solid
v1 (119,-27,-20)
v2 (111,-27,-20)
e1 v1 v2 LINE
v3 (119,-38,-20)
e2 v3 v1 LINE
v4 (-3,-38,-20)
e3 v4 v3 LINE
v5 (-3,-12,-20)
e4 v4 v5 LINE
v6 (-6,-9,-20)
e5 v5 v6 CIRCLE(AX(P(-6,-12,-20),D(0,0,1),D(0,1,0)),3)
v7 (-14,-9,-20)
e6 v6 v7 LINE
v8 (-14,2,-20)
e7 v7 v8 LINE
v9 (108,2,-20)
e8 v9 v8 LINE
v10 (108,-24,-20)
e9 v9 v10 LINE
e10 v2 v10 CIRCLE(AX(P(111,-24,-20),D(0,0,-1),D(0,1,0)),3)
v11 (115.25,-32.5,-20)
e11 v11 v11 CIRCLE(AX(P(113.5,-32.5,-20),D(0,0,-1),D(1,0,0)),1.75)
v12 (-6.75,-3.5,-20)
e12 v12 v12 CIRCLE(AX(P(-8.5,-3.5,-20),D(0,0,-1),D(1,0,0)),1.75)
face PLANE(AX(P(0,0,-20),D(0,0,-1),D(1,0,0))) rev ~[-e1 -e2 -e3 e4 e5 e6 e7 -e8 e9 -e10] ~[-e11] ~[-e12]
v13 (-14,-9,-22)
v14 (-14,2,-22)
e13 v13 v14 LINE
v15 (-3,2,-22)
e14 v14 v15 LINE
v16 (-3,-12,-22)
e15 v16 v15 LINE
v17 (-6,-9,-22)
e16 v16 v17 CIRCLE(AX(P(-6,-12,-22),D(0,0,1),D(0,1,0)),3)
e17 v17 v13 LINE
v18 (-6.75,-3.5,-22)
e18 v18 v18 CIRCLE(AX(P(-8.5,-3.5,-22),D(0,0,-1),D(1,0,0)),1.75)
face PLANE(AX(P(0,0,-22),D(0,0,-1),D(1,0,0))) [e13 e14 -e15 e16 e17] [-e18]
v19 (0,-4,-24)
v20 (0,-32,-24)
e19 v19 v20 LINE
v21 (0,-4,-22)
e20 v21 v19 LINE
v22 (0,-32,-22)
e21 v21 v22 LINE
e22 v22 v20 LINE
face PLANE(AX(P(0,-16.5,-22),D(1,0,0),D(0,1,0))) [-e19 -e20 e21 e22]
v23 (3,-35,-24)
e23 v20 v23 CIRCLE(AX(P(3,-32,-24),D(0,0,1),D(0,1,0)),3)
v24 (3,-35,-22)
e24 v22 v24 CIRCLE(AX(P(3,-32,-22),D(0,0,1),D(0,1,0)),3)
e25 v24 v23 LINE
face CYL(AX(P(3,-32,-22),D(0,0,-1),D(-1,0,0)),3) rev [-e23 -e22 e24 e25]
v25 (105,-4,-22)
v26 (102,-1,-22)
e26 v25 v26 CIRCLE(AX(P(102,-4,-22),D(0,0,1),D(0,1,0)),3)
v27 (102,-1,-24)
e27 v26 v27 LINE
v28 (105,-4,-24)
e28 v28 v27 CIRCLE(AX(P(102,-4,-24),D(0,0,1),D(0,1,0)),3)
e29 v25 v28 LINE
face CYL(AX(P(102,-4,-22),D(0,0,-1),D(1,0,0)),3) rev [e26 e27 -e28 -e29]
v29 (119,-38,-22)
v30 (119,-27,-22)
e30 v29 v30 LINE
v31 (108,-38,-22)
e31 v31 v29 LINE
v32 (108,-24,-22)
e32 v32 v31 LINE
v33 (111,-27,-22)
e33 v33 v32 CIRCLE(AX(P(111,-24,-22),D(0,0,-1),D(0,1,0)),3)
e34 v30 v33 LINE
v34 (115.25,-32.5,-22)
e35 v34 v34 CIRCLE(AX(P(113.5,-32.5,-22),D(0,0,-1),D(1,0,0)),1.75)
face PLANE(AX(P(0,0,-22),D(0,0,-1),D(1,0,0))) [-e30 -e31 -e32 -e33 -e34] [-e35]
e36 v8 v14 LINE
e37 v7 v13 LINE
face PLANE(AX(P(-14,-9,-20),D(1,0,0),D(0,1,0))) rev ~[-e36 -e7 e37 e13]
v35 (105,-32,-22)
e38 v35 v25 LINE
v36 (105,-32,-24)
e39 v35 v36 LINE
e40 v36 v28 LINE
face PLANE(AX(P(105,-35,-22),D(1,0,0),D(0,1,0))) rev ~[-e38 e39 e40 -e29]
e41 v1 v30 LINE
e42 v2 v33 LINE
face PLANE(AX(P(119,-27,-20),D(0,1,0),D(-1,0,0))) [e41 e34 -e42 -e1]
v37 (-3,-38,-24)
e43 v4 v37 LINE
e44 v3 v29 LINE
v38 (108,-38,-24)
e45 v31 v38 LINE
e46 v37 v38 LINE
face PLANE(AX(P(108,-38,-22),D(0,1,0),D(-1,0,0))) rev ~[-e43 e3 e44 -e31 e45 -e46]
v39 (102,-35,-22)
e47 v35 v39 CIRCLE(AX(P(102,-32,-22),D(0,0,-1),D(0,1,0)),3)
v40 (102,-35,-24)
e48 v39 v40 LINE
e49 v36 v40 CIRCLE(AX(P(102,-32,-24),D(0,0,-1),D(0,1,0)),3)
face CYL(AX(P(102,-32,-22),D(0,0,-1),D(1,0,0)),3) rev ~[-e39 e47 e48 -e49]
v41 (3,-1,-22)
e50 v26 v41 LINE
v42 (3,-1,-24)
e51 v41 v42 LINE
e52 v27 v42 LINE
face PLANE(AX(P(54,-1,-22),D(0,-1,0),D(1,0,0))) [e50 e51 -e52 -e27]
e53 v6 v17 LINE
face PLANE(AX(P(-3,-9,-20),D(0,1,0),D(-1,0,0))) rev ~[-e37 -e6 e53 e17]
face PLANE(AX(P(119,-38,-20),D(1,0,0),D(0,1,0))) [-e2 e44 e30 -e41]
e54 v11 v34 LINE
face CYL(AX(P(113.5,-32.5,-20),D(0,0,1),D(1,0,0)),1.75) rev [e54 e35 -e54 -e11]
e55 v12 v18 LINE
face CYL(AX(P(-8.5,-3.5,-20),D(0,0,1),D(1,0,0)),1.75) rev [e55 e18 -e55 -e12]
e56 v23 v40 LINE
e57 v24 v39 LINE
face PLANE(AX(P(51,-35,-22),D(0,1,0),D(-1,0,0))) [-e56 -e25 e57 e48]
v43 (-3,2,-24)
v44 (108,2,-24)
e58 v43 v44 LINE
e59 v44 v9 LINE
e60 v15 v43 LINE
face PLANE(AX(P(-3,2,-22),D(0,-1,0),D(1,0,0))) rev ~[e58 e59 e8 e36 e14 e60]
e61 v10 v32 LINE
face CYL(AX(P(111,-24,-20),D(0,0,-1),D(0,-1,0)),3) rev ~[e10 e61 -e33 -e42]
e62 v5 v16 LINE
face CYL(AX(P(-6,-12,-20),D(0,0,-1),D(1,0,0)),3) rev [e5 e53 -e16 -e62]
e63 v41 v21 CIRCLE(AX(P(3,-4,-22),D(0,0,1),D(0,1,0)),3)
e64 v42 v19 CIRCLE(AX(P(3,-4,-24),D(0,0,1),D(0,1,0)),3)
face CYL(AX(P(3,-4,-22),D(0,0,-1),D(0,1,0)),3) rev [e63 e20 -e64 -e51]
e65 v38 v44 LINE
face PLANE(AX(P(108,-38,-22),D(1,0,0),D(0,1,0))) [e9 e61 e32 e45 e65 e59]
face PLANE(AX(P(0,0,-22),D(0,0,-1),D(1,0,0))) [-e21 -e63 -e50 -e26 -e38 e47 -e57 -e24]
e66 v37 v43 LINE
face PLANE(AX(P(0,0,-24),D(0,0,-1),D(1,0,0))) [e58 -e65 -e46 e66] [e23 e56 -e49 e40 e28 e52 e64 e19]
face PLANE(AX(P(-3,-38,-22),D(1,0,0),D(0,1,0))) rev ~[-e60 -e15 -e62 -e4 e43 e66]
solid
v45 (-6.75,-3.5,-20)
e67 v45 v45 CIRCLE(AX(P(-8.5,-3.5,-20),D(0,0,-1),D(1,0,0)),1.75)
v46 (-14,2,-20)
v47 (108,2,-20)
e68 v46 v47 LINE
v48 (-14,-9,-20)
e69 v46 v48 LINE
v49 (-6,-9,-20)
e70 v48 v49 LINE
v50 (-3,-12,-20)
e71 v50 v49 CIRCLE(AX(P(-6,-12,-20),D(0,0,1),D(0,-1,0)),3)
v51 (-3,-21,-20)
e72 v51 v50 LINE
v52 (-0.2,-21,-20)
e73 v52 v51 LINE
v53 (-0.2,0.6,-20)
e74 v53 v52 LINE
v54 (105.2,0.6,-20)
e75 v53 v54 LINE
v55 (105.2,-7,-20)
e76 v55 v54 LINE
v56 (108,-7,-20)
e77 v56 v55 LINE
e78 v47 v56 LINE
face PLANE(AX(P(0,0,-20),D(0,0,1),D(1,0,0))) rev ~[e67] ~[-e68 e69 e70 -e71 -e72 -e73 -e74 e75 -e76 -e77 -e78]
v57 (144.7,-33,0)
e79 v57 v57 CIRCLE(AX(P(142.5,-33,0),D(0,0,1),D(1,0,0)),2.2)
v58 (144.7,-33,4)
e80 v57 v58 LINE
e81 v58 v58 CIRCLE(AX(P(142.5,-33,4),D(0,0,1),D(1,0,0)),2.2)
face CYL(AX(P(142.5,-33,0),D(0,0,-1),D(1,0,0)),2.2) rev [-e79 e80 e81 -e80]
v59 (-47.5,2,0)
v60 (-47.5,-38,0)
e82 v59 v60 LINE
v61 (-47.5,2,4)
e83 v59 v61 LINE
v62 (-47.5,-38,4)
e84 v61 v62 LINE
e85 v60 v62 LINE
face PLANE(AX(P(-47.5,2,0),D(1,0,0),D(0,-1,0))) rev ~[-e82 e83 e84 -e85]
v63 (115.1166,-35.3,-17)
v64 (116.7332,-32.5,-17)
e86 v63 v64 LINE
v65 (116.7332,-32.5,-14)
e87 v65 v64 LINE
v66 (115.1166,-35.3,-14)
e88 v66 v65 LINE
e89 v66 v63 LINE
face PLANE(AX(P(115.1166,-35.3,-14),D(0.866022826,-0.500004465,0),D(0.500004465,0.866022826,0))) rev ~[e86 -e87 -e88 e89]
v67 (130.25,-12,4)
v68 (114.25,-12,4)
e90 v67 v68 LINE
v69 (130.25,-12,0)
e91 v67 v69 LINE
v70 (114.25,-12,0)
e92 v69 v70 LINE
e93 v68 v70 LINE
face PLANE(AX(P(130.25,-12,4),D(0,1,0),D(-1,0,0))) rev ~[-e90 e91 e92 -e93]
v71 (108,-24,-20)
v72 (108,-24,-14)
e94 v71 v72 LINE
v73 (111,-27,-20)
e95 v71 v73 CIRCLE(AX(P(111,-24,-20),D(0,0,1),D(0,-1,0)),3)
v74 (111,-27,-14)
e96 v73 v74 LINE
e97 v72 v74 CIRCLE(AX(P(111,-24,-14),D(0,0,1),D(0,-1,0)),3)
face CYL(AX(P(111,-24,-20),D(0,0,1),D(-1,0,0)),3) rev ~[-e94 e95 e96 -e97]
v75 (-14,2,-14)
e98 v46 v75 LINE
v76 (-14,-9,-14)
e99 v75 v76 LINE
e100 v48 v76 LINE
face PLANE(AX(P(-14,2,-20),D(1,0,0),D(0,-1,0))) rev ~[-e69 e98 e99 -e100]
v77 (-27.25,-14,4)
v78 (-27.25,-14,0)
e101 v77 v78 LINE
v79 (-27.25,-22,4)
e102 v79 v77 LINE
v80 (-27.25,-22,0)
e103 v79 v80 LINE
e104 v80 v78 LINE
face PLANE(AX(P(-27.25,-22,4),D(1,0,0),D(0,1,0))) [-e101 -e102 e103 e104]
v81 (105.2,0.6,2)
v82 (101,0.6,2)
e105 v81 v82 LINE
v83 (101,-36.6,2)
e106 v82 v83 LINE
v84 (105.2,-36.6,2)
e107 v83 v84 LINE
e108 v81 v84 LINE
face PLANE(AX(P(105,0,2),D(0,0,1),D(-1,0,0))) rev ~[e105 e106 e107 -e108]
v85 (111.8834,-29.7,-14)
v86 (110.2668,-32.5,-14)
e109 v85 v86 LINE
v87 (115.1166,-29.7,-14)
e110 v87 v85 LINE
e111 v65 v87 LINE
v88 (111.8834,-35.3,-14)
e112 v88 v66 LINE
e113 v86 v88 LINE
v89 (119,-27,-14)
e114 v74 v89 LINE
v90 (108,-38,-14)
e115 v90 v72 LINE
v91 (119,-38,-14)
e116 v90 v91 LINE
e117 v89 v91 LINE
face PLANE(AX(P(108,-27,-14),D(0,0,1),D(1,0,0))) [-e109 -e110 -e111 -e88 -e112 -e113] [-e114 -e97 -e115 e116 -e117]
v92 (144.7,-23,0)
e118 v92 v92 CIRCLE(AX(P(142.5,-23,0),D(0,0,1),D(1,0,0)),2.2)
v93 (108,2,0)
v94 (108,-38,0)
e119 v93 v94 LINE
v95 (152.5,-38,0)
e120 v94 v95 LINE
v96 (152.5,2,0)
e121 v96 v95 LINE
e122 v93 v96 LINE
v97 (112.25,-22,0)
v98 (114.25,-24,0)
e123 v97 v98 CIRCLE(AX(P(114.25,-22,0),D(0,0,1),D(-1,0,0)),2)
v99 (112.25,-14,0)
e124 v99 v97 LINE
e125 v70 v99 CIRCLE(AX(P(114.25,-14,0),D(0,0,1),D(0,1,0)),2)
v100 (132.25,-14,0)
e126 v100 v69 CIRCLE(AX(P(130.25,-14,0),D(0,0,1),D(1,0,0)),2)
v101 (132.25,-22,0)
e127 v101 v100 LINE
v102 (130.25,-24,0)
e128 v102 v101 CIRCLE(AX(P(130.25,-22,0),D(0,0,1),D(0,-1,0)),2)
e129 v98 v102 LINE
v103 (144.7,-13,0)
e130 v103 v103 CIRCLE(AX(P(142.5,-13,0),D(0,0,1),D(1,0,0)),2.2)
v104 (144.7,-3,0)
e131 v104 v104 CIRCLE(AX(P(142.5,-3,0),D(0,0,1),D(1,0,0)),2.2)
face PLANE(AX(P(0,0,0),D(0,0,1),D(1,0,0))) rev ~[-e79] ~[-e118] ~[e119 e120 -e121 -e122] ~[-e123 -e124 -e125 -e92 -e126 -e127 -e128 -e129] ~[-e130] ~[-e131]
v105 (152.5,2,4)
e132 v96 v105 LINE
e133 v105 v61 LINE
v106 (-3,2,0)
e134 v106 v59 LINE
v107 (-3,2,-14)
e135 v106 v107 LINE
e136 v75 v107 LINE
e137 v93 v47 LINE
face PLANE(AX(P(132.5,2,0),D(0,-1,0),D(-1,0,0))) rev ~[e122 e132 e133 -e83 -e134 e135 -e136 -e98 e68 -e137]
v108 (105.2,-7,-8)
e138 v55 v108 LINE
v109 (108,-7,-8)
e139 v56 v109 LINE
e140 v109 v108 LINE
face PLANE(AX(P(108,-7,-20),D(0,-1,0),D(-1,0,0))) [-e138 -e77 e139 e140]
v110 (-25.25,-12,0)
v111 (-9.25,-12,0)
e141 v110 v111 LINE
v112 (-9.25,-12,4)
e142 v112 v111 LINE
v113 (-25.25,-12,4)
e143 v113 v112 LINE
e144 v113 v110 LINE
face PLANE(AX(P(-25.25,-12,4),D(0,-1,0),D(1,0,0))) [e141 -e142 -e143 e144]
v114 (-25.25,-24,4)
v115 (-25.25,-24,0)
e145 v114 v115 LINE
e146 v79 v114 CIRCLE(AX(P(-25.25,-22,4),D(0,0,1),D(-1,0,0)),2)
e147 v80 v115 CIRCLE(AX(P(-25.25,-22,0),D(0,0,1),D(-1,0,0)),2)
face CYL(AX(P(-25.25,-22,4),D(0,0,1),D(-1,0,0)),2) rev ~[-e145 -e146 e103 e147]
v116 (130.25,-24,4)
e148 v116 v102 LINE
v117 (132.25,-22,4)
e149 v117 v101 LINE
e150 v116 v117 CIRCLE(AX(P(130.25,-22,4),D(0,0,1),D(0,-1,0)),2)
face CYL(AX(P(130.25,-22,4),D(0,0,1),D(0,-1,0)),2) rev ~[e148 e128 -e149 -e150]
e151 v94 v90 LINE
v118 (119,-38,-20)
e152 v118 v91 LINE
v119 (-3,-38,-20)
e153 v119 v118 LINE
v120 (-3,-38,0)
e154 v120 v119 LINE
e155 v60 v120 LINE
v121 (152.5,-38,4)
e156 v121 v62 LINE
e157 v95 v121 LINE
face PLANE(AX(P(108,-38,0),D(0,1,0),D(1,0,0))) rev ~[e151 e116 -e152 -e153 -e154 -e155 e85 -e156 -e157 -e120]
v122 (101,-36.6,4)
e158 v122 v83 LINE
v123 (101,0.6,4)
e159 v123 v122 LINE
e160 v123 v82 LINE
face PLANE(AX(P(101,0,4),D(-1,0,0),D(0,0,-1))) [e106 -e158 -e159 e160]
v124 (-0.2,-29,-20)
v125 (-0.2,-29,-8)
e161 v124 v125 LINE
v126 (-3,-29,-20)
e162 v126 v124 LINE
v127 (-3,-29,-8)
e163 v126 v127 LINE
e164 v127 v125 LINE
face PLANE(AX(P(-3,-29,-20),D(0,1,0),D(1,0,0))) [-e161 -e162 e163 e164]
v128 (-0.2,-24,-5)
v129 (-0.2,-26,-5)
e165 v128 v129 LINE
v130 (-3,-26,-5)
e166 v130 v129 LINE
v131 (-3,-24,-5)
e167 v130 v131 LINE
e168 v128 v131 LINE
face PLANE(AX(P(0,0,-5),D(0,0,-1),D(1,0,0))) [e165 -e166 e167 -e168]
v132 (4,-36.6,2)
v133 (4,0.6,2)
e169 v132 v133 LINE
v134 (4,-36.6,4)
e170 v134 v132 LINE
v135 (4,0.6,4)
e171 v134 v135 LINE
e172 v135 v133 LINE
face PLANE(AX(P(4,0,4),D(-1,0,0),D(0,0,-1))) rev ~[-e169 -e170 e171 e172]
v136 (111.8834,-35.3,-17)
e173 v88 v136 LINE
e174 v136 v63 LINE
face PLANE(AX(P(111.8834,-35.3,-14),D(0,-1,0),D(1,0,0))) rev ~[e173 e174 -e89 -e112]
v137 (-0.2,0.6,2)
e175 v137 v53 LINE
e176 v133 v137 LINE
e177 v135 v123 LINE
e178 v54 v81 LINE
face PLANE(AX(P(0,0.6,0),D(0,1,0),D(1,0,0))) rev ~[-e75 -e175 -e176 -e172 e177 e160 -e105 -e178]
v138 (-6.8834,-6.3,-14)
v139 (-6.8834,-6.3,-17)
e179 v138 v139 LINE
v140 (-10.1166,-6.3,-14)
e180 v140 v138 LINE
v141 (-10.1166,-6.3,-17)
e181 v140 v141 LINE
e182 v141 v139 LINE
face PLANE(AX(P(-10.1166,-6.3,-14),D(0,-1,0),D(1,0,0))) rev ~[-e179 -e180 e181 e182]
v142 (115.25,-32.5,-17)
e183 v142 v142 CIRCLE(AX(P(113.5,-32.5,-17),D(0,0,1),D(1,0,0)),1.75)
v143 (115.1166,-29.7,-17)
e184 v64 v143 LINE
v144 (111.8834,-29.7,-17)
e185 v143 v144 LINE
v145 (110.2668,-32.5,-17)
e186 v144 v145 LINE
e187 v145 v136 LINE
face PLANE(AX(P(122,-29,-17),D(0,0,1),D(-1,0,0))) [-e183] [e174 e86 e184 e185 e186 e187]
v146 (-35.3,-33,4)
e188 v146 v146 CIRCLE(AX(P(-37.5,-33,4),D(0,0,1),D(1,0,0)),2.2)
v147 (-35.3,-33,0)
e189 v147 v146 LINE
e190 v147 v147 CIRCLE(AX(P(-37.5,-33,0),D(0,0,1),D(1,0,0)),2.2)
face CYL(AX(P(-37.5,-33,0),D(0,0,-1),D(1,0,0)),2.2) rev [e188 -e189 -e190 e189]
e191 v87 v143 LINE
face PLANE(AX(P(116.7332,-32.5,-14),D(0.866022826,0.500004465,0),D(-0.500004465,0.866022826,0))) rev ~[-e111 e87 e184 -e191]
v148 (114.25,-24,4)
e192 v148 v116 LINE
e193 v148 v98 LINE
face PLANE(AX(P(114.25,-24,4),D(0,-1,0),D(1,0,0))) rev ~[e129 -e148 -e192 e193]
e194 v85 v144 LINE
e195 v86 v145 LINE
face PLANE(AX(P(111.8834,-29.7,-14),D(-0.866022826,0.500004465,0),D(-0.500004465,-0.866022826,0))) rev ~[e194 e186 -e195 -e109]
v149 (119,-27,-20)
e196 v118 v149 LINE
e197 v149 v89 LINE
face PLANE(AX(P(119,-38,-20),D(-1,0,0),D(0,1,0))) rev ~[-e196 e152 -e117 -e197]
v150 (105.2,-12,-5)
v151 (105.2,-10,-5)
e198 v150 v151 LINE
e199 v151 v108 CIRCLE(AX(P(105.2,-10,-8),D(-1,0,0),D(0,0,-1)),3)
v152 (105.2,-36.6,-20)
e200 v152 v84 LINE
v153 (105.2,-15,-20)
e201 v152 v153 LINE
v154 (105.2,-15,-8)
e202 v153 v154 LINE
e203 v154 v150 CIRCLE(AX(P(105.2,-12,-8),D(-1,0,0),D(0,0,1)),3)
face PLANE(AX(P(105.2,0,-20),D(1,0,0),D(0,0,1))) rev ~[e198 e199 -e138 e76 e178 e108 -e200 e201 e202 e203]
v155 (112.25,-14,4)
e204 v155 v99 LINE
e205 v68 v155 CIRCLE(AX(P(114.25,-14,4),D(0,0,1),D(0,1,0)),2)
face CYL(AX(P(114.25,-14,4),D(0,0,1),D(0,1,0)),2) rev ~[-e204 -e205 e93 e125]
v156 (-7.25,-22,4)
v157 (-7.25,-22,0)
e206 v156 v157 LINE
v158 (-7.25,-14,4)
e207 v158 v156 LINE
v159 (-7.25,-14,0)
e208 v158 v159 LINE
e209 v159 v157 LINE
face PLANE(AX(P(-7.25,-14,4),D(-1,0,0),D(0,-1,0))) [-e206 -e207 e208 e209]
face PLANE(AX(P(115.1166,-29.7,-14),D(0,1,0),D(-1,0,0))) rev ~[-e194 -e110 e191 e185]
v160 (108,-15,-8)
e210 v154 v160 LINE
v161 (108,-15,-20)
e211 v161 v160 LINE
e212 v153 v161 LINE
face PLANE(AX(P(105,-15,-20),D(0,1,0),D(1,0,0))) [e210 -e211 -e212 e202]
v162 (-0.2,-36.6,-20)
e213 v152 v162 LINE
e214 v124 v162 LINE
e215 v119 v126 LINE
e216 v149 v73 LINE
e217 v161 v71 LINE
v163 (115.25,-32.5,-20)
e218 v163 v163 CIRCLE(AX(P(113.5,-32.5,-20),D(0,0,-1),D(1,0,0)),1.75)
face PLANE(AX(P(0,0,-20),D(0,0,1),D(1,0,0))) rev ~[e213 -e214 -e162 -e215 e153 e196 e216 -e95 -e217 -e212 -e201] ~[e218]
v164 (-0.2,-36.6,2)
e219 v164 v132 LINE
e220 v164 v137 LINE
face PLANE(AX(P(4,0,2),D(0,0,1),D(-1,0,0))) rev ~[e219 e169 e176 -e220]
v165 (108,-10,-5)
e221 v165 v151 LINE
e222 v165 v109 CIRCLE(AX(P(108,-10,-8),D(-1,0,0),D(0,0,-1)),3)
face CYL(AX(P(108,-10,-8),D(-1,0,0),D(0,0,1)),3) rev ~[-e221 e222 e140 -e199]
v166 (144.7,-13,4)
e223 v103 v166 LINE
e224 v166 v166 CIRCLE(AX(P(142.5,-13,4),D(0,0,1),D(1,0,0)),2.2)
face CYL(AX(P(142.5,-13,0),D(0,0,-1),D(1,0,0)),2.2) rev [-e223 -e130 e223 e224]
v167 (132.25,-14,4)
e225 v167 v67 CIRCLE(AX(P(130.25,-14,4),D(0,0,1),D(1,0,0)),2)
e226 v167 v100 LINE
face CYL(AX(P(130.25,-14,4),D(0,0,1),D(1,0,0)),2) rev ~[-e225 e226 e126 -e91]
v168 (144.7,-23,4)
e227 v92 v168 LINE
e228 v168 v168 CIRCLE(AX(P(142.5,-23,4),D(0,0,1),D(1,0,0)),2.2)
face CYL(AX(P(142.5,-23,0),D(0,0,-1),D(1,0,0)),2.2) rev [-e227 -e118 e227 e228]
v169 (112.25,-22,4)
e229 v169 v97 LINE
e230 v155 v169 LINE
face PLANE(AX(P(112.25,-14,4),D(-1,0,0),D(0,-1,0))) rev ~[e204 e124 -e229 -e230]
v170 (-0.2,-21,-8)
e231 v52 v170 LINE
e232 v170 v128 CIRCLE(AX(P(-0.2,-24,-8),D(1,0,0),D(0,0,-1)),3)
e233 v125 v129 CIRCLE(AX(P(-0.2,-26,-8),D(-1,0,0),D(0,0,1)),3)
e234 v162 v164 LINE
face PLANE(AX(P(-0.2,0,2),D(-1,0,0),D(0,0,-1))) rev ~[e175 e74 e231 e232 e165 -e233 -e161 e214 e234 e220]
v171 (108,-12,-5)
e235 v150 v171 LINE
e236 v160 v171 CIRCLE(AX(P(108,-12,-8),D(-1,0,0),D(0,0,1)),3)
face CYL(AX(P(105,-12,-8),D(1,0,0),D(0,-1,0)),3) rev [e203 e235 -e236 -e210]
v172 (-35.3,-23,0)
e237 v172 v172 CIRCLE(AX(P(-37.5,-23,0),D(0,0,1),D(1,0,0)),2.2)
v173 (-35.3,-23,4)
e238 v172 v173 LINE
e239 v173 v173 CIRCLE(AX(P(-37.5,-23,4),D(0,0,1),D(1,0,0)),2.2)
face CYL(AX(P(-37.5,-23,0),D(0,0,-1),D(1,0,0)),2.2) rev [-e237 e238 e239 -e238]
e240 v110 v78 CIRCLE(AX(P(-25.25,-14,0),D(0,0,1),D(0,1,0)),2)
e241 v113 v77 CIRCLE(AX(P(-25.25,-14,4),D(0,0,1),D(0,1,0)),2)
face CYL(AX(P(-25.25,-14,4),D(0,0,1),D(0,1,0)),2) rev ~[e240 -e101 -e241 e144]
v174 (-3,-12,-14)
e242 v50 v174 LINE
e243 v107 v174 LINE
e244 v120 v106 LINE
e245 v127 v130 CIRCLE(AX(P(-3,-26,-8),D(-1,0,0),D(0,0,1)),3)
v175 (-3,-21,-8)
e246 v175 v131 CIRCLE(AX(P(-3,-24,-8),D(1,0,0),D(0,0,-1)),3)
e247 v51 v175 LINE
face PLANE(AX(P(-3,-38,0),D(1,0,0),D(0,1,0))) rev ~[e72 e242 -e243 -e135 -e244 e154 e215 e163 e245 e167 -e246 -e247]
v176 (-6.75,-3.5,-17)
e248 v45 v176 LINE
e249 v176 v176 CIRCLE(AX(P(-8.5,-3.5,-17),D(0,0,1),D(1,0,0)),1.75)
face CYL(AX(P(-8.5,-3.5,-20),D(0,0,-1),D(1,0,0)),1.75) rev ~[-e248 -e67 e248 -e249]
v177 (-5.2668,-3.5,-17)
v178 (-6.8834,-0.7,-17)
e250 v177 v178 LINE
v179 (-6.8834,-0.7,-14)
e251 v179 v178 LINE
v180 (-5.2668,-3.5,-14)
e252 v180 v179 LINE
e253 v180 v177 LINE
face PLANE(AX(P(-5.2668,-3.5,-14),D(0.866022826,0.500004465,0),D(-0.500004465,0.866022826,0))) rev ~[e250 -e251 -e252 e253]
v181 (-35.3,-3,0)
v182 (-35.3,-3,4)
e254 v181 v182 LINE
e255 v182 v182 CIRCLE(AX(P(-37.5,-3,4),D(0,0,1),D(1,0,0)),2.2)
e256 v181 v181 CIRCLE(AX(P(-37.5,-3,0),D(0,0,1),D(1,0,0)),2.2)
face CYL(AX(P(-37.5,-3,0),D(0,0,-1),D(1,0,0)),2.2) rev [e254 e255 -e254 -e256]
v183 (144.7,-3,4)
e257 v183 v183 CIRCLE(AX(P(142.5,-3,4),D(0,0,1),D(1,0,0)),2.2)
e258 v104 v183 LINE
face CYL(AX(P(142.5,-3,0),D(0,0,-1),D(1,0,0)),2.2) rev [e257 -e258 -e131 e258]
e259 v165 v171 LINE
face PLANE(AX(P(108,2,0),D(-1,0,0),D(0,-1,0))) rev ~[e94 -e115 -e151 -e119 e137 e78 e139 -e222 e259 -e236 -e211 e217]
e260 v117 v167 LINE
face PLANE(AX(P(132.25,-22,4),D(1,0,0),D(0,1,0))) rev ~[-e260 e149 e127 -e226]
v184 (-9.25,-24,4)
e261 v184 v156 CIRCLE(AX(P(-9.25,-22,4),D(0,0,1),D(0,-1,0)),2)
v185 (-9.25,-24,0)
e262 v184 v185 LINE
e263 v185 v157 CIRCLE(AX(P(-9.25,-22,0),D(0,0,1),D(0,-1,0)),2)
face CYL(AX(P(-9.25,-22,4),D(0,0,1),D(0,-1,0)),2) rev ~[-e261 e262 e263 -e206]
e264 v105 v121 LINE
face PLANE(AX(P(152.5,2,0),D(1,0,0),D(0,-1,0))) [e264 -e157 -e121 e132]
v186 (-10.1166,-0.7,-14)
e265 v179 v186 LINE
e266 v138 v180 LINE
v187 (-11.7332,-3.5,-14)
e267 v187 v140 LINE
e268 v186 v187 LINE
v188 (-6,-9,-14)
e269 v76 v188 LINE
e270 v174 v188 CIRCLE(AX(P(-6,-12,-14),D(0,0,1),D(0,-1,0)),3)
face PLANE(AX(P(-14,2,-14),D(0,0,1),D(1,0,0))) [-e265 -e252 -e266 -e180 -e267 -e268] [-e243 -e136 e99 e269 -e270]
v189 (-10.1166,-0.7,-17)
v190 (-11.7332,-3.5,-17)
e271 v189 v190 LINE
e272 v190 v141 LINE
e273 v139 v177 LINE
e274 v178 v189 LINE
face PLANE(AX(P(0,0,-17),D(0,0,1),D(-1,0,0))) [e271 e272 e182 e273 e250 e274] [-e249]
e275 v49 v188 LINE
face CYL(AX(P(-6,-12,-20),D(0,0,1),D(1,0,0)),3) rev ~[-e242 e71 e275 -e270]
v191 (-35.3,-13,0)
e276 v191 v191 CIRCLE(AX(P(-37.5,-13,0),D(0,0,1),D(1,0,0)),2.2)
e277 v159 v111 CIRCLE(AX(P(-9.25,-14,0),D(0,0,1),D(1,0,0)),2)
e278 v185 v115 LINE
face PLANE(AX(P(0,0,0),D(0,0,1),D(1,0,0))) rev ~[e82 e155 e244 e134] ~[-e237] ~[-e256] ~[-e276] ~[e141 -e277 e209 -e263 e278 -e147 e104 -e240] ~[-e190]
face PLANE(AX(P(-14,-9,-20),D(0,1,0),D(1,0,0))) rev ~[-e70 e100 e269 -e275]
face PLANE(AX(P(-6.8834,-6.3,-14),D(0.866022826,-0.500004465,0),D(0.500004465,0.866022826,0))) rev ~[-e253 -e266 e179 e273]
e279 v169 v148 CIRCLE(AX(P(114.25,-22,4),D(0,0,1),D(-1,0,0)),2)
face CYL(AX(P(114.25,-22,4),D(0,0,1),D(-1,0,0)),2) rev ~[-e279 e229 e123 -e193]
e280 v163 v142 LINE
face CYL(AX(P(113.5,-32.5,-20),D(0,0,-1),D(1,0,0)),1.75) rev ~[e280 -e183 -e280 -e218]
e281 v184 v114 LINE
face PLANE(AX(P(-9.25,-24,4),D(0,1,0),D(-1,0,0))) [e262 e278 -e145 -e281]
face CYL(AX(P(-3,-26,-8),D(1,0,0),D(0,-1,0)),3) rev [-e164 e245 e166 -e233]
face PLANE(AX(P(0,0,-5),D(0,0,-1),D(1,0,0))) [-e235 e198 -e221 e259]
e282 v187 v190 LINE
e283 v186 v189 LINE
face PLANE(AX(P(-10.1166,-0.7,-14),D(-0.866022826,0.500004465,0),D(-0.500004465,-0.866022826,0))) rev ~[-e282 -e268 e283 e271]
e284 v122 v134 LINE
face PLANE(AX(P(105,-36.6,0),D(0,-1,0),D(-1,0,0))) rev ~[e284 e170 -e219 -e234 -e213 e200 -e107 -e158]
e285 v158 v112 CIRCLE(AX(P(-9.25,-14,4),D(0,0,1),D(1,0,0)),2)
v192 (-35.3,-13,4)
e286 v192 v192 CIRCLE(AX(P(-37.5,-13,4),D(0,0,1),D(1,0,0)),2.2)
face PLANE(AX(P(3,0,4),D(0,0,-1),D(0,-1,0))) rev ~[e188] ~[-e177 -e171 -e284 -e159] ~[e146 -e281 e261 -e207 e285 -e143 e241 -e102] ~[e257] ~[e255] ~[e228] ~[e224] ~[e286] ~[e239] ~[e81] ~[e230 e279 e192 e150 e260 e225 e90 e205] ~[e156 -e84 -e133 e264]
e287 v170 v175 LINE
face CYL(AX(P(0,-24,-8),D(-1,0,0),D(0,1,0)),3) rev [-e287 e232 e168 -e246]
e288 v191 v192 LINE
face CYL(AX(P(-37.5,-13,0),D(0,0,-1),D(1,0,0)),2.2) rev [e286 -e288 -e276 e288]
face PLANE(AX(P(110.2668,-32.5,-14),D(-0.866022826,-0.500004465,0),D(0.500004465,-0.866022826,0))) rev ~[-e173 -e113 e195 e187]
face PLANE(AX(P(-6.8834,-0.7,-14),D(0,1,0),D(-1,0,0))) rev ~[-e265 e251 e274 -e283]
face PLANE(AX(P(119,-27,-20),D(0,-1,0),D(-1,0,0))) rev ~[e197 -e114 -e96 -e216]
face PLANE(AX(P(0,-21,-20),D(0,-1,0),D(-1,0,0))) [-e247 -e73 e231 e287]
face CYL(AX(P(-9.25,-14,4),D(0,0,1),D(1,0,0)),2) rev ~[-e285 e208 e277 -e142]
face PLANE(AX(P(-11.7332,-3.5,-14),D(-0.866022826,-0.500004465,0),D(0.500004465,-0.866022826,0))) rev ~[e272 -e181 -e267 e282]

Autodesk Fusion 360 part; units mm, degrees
sketch "Sketch1" plane through (0, 0, 0) normal (0, 0, 1) x (1, 0, 0)
  line L0 (0, 0) -> (105, 0)
  line L1 (105, 0) -> (105, -36)
  line L2 (105, -36) -> (0, -36)
  line L3 (0, -36) -> (0, 0)
  line L4 (0, 0) -> (105, -36) construction
  line L5 (105, 0) -> (100, 0) construction
  line L6 (0, -36) -> (105, 0) construction
  line L7 (132.5, 2) -> (-27.5, 2)
  line L8 (-27.5, 2) -> (-27.5, -38)
  line L9 (-27.5, -38) -> (132.5, -38)
  line L10 (132.5, -38) -> (132.5, 2)
  line L11 (132.5, 2) -> (-27.5, -38) construction
  line L12 (-27.5, 2) -> (132.5, -38) construction
  line L13 (-27.5, 2) -> (-47.5, 2)
  line L14 (-47.5, 2) -> (-47.5, -38)
  line L15 (-47.5, -38) -> (-27.5, -38)
  line L16 (-27.5, -38) -> (-27.5, 2)
  line L17 (132.5, 2) -> (152.5, 2)
  line L18 (152.5, 2) -> (152.5, -38)
  line L19 (152.5, -38) -> (132.5, -38)
  line L20 (132.5, -38) -> (132.5, 2)
  line L21 (-37.5, 2) -> (-37.5, -38) construction
  line L22 (142.5, 2) -> (142.5, -38) construction
  line L23 (142.5, 2) -> (142.5, -3) construction
  line L24 (-37.5, 2) -> (-37.5, -3) construction
  circle A0 centre (142.5, -3) radius 2.2
  circle A1 centre (-37.5, -3) radius 2.2
  circle A2 centre (-37.5, -13) radius 2.2
  circle A3 centre (142.5, -13) radius 2.2
  circle A4 centre (-37.5, -23) radius 2.2
  circle A5 centre (142.5, -23) radius 2.2
  circle A6 centre (-37.5, -33) radius 2.2
  circle A7 centre (142.5, -33) radius 2.2
  line L25 (-3, 2) -> (108, 2)
  line L26 (108, 2) -> (108, -38)
  line L27 (108, -38) -> (-3, -38)
  line L28 (-3, -38) -> (-3, 2)
  line L29 (-3, 2) -> (108, -38) construction
  line L30 (108, 2) -> (-3, -38) construction
  point P0 (52.5, -18)
  point P1 (52.5, -18)
  dimension "d1" = 105
  dimension "d2" = 36
  dimension "d3" = 160
  dimension "d4" = 40
  dimension "d5" = 40
  dimension "d6" = 20
  dimension "d7" = 40
  dimension "d8" = 20
  dimension "d9" = 5
  dimension "d10" = 5
  dimension "d11" = 4.4
  dimension "d12" = 4.4
  dimension "d15" = 10
  dimension "d16" = -10
  dimension "d17" = 111
  dimension "d18" = 40
extrude "Extrude1" add sketch "Sketch1" along normal blind 4 makes body 1
extrude "Extrude2" add sketch "Sketch1" against normal blind 20 contours L7 L9 L25 L26 L27 L28 bodies 1
sketch "Sketch2" plane through (0, 0, -20) normal (0, 0, -1) x (1, 0, 0)
  line L0 (0, 36) -> (105, 36)
  line L1 (105, 36) -> (105, 0)
  line L2 (105, 0) -> (0, 0)
  line L3 (0, 0) -> (0, 36)
  line L4 (108, 38) -> (-3, 38)
  line L5 (-3, 38) -> (-3, -2)
  line L6 (-3, -2) -> (108, -2)
  line L7 (108, -2) -> (108, 38)
  line L8 (108, -2) -> (108, 7) construction
  line L9 (108, 7) -> (105, 7)
  line L10 (105, 7) -> (105, 15)
  line L11 (105, 15) -> (108, 15)
  line L12 (108, 15) -> (108, 7)
  line L13 (-3, 38) -> (-3, 29) construction
  line L14 (-3, 29) -> (0, 29)
  line L15 (0, 29) -> (0, 21)
  line L16 (0, 21) -> (-3, 21)
  line L17 (-3, 21) -> (-3, 29)
  dimension "d23" = 9
  dimension "d24" = 8
  dimension "d25" = 9
  dimension "d26" = 8
extrude "Extrude3" cut sketch "Sketch2" against normal blind 15 contours L3 L5 L14 L15 L16 L17 | L1 L7 L9 L10 L11 L12 bodies 1
fillet "Fillet1" radius 3 2 edges at (-1.5, -21, -5) (-1.5, -29, -5) on bodies 1
fillet "Fillet1" radius 3 2 edges at (106.5, -7, -5) (106.5, -15, -5) on bodies 1
sketch "Sketch3" plane through (0, 0, 4) normal (0, 0, 1) x (-1, 0, 0)
  circle A0 centre (-142.5, 33) radius 2.2
  circle A1 centre (37.5, 33) radius 2.2
  circle A2 centre (-142.5, 13) radius 2.2
  circle A3 centre (37.5, 23) radius 2.2
  circle A4 centre (-142.5, 23) radius 2.2
  circle A5 centre (37.5, 13) radius 2.2
  circle A6 centre (37.5, 3) radius 2.2
  circle A7 centre (-142.5, 3) radius 2.2
  line L0 (-105, 36) -> (0, 36)
  line L1 (0, 36) -> (0, 0)
  line L2 (0, 0) -> (-105, 0)
  line L3 (-105, 0) -> (-105, 36)
  line L4 (-152.5, -2) -> (47.5, -2)
  line L5 (47.5, -2) -> (47.5, 38)
  line L6 (47.5, 38) -> (-152.5, 38)
  line L7 (-152.5, 38) -> (-152.5, -2)
  line L8 (-52.5, 0) -> (-52.5, 36) construction
  line L9 (0, 0) -> (-3, 0)
  line L10 (-3, 0) -> (-3, 36)
  line L11 (-3, 36) -> (0, 36)
  line L12 (0, 36) -> (0, 0)
  line L13 (-102, 0) -> (-102, 36)
  dimension "d30" = 3
extrude "Extrude4" add sketch "Sketch3" against normal blind 2 contours L0 L2 L3 L13 | L0 L1 L2 L9 L10 L11 L12 bodies 1
sketch "Sketch4" plane through (0, 0, -20) normal (0, 0, -1) x (1, 0, 0)
  line L0 (105, 7) -> (105, 0)
  line L1 (105, 0) -> (0, 0)
  line L2 (0, 0) -> (0, 21)
  line L3 (-3, 21) -> (-3, -2)
  line L4 (-3, -2) -> (108, -2)
  line L5 (108, -2) -> (108, 7)
  line L6 (0, 21) -> (-11, 21)
  line L7 (-11, 21) -> (-11, 10)
  line L8 (-11, 10) -> (0, 10)
  line L9 (0, 10) -> (0, 21)
  line L10 (0, 21) -> (-11, 10) construction
  circle A0 centre (-5.5, 15.5) radius 1.75
  line L11 (108, 7) -> (105, 7)
  line L12 (0, 21) -> (-3, 21)
  dimension "d33" = 11
  dimension "d34" = 11
  dimension "d35" = 3.5
sketch "Sketch5" plane through (0, 0, -20) normal (0, 0, -1) x (1, 0, 0)
  line L0 (108, 7) -> (105, 7)
  line L1 (105, 7) -> (105, 0)
  line L2 (105, 0) -> (0, 0)
  line L3 (0, 0) -> (0, 21)
  line L4 (0, 21) -> (-3, 21)
  line L5 (-3, 21) -> (-3, -2)
  line L6 (-3, -2) -> (108, -2)
  line L7 (108, -2) -> (108, 7)
  line L8 (-3, -2) -> (-14, -2)
  line L9 (-14, -2) -> (-14, 9)
  line L10 (-14, 9) -> (-3, 9)
  line L11 (-3, 9) -> (-3, -2)
  circle A0 centre (-8.5, 3.5) radius 1.75
  dimension "d37" = 11
  dimension "d38" = 11
  dimension "d39" = 3.5
extrude "Extrude5" add sketch "Sketch5" against normal blind 20 separate body contours L5 L8 L9 L10 L11 makes body 2
sketch "Sketch6" plane through (0, 2, 0) normal (0, 1, 0) x (-1, 0, 0)
  line L0 (3, -20) -> (14, -20)
  line L1 (14, -20) -> (14, 0)
  line L2 (14, 0) -> (3, 0)
  line L3 (3, 0) -> (3, -20)
  line L4 (3, -20) -> (14, -20)
  line L5 (14, -20) -> (14, -17)
  line L6 (14, -17) -> (3, -17)
  line L7 (3, -17) -> (3, -20)
  line L8 (3, -17) -> (14, -17)
  line L9 (14, -17) -> (14, -14)
  line L10 (14, -14) -> (3, -14)
  line L11 (3, -14) -> (3, -17)
  dimension "d42" = 3
  dimension "d43" = 3
extrude "Extrude6" cut sketch "Sketch6" against normal blind 17.5 contours L1 L2 L3 L10 bodies 2
sketch "Sketch7" plane through (0, 0, -14) normal (0, 0, 1) x (-1, 0, 0)
  line L0 (14, 9) -> (3, 9)
  line L1 (3, 9) -> (3, -2)
  line L2 (3, -2) -> (14, -2)
  line L3 (14, -2) -> (14, 9)
  circle A0 centre (8.5, 3.5) radius 1.75
  line L4 (10.1166, 0.7) -> (11.7332, 3.5)
  line L5 (11.7332, 3.5) -> (10.1166, 6.3)
  line L6 (10.1166, 6.3) -> (6.8834, 6.3)
  line L7 (6.8834, 6.3) -> (5.2668, 3.5)
  line L8 (5.2668, 3.5) -> (6.8834, 0.7)
  line L9 (6.8834, 0.7) -> (10.1166, 0.7)
  point P0 (8.5, 3.5)
  dimension "d46" = 2.8
extrude "Extrude7" cut sketch "Sketch7" against normal blind 3 contours L4 L5 L6 L7 L8 L9 bodies 2
copy_body "CopyPasteBodies1" bodies 2 makes body 3
move_body "Move1" bodies 3 to x (1, 0, 0) y (0, 1, 0) z (0, 0, 1) at (122, -29, 0)
sketch "Sketch8" plane through (0, 0, -20) normal (0, 0, -1) x (1, 0, 0)
  circle A0 centre (-8.5, 3.5) radius 1.75
  line L0 (-3, 9) -> (-14, 9)
  line L1 (-14, 9) -> (-14, -2)
  line L2 (-14, -2) -> (-3, -2)
  line L3 (-3, -2) -> (-3, 9)
  line L4 (119, 27) -> (108, 27)
  line L5 (108, 27) -> (108, 38)
  line L6 (108, 38) -> (119, 38)
  line L7 (119, 38) -> (119, 27)
  line L8 (108, 38) -> (-3, 38)
  line L9 (-3, 38) -> (-3, -2)
  line L10 (-3, -2) -> (108, -2)
  line L11 (108, -2) -> (108, 38)
  circle A1 centre (-8.5, 3.5) radius 1.75
  circle A2 centre (113.5, 32.5) radius 1.75
  dimension "d49" = 3.5
extrude "Extrude8" add sketch "Sketch8" along normal blind 2 separate body makes body 4
copy_body "Body->Comp1" bodies 1 removing the originals makes body 5 in component "Hub Mount"
copy_body "Body->Comp1'" bodies 5 removing the originals makes body 6 in component "Front"
copy_body "CutPasteBodies1" bodies 2 3 removing the originals makes body 7 makes body 8 in component "Front"
copy_body "Body->Comp2" bodies 4 removing the originals makes body 9 in component "Back plate"
sketch "Sketch9" plane through (0, 0, 4) normal (0, 0, 1) x (-1, 0, 0)
  circle A0 centre (-142.5, 33) radius 2.2
  circle A1 centre (37.5, 33) radius 2.2
  circle A2 centre (-142.5, 23) radius 2.2
  circle A3 centre (37.5, 23) radius 2.2
  circle A4 centre (-142.5, 13) radius 2.2
  circle A5 centre (37.5, 13) radius 2.2
  circle A6 centre (37.5, 3) radius 2.2
  circle A7 centre (-142.5, 3) radius 2.2
  line L0 (-102, 36) -> (-3, 36)
  line L1 (-3, 36) -> (-3, 0)
  line L2 (-3, 0) -> (-102, 0)
  line L3 (-102, 0) -> (-102, 36)
  line L4 (-152.5, -2) -> (47.5, -2)
  line L5 (47.5, -2) -> (47.5, 38)
  line L6 (47.5, 38) -> (-152.5, 38)
  line L7 (-152.5, 38) -> (-152.5, -2)
  line L8 (-52.5, -2) -> (-52.5, 38) construction
  line L9 (-152.5, 18) -> (47.5, 18) construction
  line L10 (47.5, 18) -> (27.5, 18) construction
  line L11 (27.5, 18) -> (27.5, -2) construction
  line L12 (27.5, 18) -> (27.5, 38) construction
  line L13 (7, -2) -> (7, 38) construction
  line L14 (7, 38) -> (27.5, -2) construction
  line L15 (25.25, 12) -> (9.25, 12)
  line L16 (7.25, 14) -> (7.25, 22)
  line L17 (9.25, 24) -> (25.25, 24)
  line L18 (27.25, 22) -> (27.25, 14)
  line L19 (27.25, 12) -> (7.25, 24) construction
  line L20 (7.25, 12) -> (27.25, 24) construction
  arc A8 (25.25, 12) -> (27.25, 14) centre (25.25, 14) ccw
  arc A9 (7.25, 14) -> (9.25, 12) centre (9.25, 14) ccw
  arc A10 (9.25, 24) -> (7.25, 22) centre (9.25, 22) ccw
  arc A11 (27.25, 22) -> (25.25, 24) centre (25.25, 22) ccw
  arc A12 (-114.25, 12) -> (-112.25, 14) centre (-114.25, 14) ccw
  line L21 (-112.25, 14) -> (-112.25, 22)
  arc A13 (-112.25, 22) -> (-114.25, 24) centre (-114.25, 22) ccw
  line L22 (-114.25, 24) -> (-130.25, 24)
  arc A14 (-130.25, 24) -> (-132.25, 22) centre (-130.25, 22) ccw
  line L23 (-132.25, 22) -> (-132.25, 14)
  arc A15 (-132.25, 14) -> (-130.25, 12) centre (-130.25, 14) ccw
  line L24 (-130.25, 12) -> (-114.25, 12)
  point P0 (17.25, 18)
  dimension "d52" = 20
  dimension "d53" = 20
  dimension "d54" = 12
  dimension "d55" = 2
extrude "Extrude1'" cut sketch "Sketch9" against normal blind 20 contours L15 L16 L17 L18 A8 A9 A10 A11 | A12 L21 A13 L22 A14 L23 A15 L24 bodies 6 in component "Front"
combine "Combine1" operation add target body 6 tool bodies 8 7 in component "Front"
fillet "Fillet1'" radius 3 1 edges at (-3, -9, -21) on bodies 9 in component "Back plate"
fillet "Fillet1''" radius 3 1 edges at (108, -27, -17) on bodies 6 in component "Front"
fillet "Fillet2" radius 3 1 edges at (108, -27, -21) on bodies 9 in component "Back plate"
fillet "Fillet2'" radius 3 1 edges at (-3, -9, -17) on bodies 6 in component "Front"
sketch "Sketch10" plane through (0, 0, -22) normal (0, 0, -1) x (1, 0, 0)
  circle A0 centre (113.5, 32.5) radius 1.75
  circle A1 centre (-8.5, 3.5) radius 1.75
  line L0 (119, 38) -> (-3, 38)
  line L1 (-3, 38) -> (-3, 12)
  arc A2 (-6, 9) -> (-3, 12) centre (-6, 12) ccw
  line L2 (-6, 9) -> (-14, 9)
  line L3 (-14, 9) -> (-14, -2)
  line L4 (-14, -2) -> (108, -2)
  line L5 (108, -2) -> (108, 24)
  arc A3 (111, 27) -> (108, 24) centre (111, 24) ccw
  line L6 (111, 27) -> (119, 27)
  line L7 (119, 27) -> (119, 38)
  line L8 (-3, 38) -> (108, 38) construction
  line L9 (108, 38) -> (108, -2) construction
  line L10 (108, -2) -> (-3, -2) construction
  line L11 (-3, -2) -> (-3, 38) construction
  line L12 (-3, 38) -> (108, 38)
  line L13 (108, 38) -> (108, 35)
  line L14 (108, 35) -> (-3, 35)
  line L15 (-3, 35) -> (-3, 38)
  line L16 (108, 16.5) -> (-3, 16.5)
  line L17 (-3, 16.5) -> (-3, 19.5)
  line L18 (-3, 19.5) -> (108, 19.5)
  line L19 (108, -2) -> (-3, -2)
  line L20 (-3, -2) -> (-3, 1)
  line L21 (-3, 1) -> (108, 1)
  line L22 (-3, 38) -> (0, 38)
  line L23 (0, 38) -> (0, -2)
  line L24 (0, -2) -> (-3, -2)
  line L25 (-3, -2) -> (-3, 38)
  line L26 (108, 38) -> (105, 38)
  line L27 (105, 38) -> (105, -2)
  line L28 (105, -2) -> (108, -2)
  line L29 (108, -2) -> (108, 38)
  line L30 (52.5, 19.5) -> (52.5, 16.5) construction
  line L31 (51, 38) -> (54, 38)
  line L32 (54, 38) -> (54, -2)
  line L33 (54, -2) -> (51, -2)
  line L34 (51, -2) -> (51, 38)
  line L35 (51, 38) -> (54, -2) construction
  line L36 (54, 38) -> (51, -2) construction
  point P0 (52.5, 18)
  dimension "d62" = 3
  dimension "d65" = 0
  dimension "d66" = -37
  dimension "d69" = 3
extrude "Extrude1''" add sketch "Sketch10" along normal blind 2 contours L0 L12 L13 L14 L26 L27 L29 | L0 L12 L14 L27 L32 | L5 L14 L18 L27 L29 | L0 L12 L14 L31 L32 L34 | L0 L12 L14 L23 L34 | L5 L16 L18 L27 L29 | L0 L1 L12 L14 L15 L22 L23 L25 | L5 L16 L21 L27 L29 | L1 L14 L18 L23 L25 | L4 L19 L21 L27 L32 | L4 L5 L19 L21 L27 L28 L29 | L1 L16 L17 L18 L23 L25 | L4 L19 L21 L32 L33 L34 | L1 L16 L21 L23 L25 | L4 L19 L21 L23 L34 | L4 L19 L20 L21 L23 L24 L25 bodies 9 in component "Back plate"
fillet "Fillet3" radius 3 4 edges at (0, -1, -23) (0, -35, -23) (105, -35, -23) (105, -1, -23) on bodies 9 in component "Back plate"
extrude "Extrude2'" add 1 faces at (102, -12, 2.6667) along direction (-1, 0, 0) blind 1 on bodies 6 bodies 6 in component "Front"
extrude "Extrude3'" add 1 faces at (3, -12, 2.6667) along direction (1, 0, 0) blind 1 on bodies 6 bodies 6 in component "Front"
sketch "Sketch11" plane through (0, 0, -22) normal (0, 0, -1) x (1, 0, 0)
  arc A0 (102, 1) -> (105, 4) centre (102, 4) ccw
  line L0 (105, 4) -> (105, 32)
  arc A1 (105, 32) -> (102, 35) centre (102, 32) ccw
  line L1 (102, 35) -> (3, 35)
  arc A2 (3, 35) -> (0, 32) centre (3, 32) ccw
  line L2 (0, 32) -> (0, 4)
  arc A3 (0, 4) -> (3, 1) centre (3, 4) ccw
  line L3 (3, 1) -> (102, 1)
  line L4 (3, 35) -> (102, 35) construction
  line L5 (102, 35) -> (102, 1) construction
  line L6 (102, 1) -> (3, 1) construction
  line L7 (3, 1) -> (3, 35) construction
  line L8 (102, 1) -> (3, 35) construction
  line L9 (3, 1) -> (102, 35) construction
extrude "Extrude4'" cut 1 faces at (36.3333, -36, -12.6667) along direction (0, -1, 0) blind 0.6 on bodies 6 bodies 6 in component "Front"
extrude "Extrude5'" cut 1 faces at (68.6667, 0, -12.6667) along direction (0, 1, 0) blind 0.6 on bodies 6 bodies 6 in component "Front"
extrude "Extrude6'" cut 1 faces at (105, -29.4, -8.6667) along direction (1, 0, 0) blind 0.2 on bodies 6 bodies 6 in component "Front"
extrude "Extrude7'" cut 1 faces at (0, -6.6, -8.6667) along direction (-1, 0, 0) blind 0.2 on bodies 6 bodies 6 in component "Front"
component "Hub Mount" placed x (1, 0, 0) y (0, 1, 0) z (0, 0, 1) at (0, 0, 0)
component "Front" placed x (1, 0, 0) y (0, 1, 0) z (0, 0, 1) at (0, 0, 0) in component "Hub Mount"
component "Back plate" placed x (1, 0, 0) y (0, 1, 0) z (0, 0, 1) at (0, 0, 0) in component "Hub Mount"
equation "d27 = -22 mm + 7 mm"
equation "d66 = -40.00 mm + 3 mm"
